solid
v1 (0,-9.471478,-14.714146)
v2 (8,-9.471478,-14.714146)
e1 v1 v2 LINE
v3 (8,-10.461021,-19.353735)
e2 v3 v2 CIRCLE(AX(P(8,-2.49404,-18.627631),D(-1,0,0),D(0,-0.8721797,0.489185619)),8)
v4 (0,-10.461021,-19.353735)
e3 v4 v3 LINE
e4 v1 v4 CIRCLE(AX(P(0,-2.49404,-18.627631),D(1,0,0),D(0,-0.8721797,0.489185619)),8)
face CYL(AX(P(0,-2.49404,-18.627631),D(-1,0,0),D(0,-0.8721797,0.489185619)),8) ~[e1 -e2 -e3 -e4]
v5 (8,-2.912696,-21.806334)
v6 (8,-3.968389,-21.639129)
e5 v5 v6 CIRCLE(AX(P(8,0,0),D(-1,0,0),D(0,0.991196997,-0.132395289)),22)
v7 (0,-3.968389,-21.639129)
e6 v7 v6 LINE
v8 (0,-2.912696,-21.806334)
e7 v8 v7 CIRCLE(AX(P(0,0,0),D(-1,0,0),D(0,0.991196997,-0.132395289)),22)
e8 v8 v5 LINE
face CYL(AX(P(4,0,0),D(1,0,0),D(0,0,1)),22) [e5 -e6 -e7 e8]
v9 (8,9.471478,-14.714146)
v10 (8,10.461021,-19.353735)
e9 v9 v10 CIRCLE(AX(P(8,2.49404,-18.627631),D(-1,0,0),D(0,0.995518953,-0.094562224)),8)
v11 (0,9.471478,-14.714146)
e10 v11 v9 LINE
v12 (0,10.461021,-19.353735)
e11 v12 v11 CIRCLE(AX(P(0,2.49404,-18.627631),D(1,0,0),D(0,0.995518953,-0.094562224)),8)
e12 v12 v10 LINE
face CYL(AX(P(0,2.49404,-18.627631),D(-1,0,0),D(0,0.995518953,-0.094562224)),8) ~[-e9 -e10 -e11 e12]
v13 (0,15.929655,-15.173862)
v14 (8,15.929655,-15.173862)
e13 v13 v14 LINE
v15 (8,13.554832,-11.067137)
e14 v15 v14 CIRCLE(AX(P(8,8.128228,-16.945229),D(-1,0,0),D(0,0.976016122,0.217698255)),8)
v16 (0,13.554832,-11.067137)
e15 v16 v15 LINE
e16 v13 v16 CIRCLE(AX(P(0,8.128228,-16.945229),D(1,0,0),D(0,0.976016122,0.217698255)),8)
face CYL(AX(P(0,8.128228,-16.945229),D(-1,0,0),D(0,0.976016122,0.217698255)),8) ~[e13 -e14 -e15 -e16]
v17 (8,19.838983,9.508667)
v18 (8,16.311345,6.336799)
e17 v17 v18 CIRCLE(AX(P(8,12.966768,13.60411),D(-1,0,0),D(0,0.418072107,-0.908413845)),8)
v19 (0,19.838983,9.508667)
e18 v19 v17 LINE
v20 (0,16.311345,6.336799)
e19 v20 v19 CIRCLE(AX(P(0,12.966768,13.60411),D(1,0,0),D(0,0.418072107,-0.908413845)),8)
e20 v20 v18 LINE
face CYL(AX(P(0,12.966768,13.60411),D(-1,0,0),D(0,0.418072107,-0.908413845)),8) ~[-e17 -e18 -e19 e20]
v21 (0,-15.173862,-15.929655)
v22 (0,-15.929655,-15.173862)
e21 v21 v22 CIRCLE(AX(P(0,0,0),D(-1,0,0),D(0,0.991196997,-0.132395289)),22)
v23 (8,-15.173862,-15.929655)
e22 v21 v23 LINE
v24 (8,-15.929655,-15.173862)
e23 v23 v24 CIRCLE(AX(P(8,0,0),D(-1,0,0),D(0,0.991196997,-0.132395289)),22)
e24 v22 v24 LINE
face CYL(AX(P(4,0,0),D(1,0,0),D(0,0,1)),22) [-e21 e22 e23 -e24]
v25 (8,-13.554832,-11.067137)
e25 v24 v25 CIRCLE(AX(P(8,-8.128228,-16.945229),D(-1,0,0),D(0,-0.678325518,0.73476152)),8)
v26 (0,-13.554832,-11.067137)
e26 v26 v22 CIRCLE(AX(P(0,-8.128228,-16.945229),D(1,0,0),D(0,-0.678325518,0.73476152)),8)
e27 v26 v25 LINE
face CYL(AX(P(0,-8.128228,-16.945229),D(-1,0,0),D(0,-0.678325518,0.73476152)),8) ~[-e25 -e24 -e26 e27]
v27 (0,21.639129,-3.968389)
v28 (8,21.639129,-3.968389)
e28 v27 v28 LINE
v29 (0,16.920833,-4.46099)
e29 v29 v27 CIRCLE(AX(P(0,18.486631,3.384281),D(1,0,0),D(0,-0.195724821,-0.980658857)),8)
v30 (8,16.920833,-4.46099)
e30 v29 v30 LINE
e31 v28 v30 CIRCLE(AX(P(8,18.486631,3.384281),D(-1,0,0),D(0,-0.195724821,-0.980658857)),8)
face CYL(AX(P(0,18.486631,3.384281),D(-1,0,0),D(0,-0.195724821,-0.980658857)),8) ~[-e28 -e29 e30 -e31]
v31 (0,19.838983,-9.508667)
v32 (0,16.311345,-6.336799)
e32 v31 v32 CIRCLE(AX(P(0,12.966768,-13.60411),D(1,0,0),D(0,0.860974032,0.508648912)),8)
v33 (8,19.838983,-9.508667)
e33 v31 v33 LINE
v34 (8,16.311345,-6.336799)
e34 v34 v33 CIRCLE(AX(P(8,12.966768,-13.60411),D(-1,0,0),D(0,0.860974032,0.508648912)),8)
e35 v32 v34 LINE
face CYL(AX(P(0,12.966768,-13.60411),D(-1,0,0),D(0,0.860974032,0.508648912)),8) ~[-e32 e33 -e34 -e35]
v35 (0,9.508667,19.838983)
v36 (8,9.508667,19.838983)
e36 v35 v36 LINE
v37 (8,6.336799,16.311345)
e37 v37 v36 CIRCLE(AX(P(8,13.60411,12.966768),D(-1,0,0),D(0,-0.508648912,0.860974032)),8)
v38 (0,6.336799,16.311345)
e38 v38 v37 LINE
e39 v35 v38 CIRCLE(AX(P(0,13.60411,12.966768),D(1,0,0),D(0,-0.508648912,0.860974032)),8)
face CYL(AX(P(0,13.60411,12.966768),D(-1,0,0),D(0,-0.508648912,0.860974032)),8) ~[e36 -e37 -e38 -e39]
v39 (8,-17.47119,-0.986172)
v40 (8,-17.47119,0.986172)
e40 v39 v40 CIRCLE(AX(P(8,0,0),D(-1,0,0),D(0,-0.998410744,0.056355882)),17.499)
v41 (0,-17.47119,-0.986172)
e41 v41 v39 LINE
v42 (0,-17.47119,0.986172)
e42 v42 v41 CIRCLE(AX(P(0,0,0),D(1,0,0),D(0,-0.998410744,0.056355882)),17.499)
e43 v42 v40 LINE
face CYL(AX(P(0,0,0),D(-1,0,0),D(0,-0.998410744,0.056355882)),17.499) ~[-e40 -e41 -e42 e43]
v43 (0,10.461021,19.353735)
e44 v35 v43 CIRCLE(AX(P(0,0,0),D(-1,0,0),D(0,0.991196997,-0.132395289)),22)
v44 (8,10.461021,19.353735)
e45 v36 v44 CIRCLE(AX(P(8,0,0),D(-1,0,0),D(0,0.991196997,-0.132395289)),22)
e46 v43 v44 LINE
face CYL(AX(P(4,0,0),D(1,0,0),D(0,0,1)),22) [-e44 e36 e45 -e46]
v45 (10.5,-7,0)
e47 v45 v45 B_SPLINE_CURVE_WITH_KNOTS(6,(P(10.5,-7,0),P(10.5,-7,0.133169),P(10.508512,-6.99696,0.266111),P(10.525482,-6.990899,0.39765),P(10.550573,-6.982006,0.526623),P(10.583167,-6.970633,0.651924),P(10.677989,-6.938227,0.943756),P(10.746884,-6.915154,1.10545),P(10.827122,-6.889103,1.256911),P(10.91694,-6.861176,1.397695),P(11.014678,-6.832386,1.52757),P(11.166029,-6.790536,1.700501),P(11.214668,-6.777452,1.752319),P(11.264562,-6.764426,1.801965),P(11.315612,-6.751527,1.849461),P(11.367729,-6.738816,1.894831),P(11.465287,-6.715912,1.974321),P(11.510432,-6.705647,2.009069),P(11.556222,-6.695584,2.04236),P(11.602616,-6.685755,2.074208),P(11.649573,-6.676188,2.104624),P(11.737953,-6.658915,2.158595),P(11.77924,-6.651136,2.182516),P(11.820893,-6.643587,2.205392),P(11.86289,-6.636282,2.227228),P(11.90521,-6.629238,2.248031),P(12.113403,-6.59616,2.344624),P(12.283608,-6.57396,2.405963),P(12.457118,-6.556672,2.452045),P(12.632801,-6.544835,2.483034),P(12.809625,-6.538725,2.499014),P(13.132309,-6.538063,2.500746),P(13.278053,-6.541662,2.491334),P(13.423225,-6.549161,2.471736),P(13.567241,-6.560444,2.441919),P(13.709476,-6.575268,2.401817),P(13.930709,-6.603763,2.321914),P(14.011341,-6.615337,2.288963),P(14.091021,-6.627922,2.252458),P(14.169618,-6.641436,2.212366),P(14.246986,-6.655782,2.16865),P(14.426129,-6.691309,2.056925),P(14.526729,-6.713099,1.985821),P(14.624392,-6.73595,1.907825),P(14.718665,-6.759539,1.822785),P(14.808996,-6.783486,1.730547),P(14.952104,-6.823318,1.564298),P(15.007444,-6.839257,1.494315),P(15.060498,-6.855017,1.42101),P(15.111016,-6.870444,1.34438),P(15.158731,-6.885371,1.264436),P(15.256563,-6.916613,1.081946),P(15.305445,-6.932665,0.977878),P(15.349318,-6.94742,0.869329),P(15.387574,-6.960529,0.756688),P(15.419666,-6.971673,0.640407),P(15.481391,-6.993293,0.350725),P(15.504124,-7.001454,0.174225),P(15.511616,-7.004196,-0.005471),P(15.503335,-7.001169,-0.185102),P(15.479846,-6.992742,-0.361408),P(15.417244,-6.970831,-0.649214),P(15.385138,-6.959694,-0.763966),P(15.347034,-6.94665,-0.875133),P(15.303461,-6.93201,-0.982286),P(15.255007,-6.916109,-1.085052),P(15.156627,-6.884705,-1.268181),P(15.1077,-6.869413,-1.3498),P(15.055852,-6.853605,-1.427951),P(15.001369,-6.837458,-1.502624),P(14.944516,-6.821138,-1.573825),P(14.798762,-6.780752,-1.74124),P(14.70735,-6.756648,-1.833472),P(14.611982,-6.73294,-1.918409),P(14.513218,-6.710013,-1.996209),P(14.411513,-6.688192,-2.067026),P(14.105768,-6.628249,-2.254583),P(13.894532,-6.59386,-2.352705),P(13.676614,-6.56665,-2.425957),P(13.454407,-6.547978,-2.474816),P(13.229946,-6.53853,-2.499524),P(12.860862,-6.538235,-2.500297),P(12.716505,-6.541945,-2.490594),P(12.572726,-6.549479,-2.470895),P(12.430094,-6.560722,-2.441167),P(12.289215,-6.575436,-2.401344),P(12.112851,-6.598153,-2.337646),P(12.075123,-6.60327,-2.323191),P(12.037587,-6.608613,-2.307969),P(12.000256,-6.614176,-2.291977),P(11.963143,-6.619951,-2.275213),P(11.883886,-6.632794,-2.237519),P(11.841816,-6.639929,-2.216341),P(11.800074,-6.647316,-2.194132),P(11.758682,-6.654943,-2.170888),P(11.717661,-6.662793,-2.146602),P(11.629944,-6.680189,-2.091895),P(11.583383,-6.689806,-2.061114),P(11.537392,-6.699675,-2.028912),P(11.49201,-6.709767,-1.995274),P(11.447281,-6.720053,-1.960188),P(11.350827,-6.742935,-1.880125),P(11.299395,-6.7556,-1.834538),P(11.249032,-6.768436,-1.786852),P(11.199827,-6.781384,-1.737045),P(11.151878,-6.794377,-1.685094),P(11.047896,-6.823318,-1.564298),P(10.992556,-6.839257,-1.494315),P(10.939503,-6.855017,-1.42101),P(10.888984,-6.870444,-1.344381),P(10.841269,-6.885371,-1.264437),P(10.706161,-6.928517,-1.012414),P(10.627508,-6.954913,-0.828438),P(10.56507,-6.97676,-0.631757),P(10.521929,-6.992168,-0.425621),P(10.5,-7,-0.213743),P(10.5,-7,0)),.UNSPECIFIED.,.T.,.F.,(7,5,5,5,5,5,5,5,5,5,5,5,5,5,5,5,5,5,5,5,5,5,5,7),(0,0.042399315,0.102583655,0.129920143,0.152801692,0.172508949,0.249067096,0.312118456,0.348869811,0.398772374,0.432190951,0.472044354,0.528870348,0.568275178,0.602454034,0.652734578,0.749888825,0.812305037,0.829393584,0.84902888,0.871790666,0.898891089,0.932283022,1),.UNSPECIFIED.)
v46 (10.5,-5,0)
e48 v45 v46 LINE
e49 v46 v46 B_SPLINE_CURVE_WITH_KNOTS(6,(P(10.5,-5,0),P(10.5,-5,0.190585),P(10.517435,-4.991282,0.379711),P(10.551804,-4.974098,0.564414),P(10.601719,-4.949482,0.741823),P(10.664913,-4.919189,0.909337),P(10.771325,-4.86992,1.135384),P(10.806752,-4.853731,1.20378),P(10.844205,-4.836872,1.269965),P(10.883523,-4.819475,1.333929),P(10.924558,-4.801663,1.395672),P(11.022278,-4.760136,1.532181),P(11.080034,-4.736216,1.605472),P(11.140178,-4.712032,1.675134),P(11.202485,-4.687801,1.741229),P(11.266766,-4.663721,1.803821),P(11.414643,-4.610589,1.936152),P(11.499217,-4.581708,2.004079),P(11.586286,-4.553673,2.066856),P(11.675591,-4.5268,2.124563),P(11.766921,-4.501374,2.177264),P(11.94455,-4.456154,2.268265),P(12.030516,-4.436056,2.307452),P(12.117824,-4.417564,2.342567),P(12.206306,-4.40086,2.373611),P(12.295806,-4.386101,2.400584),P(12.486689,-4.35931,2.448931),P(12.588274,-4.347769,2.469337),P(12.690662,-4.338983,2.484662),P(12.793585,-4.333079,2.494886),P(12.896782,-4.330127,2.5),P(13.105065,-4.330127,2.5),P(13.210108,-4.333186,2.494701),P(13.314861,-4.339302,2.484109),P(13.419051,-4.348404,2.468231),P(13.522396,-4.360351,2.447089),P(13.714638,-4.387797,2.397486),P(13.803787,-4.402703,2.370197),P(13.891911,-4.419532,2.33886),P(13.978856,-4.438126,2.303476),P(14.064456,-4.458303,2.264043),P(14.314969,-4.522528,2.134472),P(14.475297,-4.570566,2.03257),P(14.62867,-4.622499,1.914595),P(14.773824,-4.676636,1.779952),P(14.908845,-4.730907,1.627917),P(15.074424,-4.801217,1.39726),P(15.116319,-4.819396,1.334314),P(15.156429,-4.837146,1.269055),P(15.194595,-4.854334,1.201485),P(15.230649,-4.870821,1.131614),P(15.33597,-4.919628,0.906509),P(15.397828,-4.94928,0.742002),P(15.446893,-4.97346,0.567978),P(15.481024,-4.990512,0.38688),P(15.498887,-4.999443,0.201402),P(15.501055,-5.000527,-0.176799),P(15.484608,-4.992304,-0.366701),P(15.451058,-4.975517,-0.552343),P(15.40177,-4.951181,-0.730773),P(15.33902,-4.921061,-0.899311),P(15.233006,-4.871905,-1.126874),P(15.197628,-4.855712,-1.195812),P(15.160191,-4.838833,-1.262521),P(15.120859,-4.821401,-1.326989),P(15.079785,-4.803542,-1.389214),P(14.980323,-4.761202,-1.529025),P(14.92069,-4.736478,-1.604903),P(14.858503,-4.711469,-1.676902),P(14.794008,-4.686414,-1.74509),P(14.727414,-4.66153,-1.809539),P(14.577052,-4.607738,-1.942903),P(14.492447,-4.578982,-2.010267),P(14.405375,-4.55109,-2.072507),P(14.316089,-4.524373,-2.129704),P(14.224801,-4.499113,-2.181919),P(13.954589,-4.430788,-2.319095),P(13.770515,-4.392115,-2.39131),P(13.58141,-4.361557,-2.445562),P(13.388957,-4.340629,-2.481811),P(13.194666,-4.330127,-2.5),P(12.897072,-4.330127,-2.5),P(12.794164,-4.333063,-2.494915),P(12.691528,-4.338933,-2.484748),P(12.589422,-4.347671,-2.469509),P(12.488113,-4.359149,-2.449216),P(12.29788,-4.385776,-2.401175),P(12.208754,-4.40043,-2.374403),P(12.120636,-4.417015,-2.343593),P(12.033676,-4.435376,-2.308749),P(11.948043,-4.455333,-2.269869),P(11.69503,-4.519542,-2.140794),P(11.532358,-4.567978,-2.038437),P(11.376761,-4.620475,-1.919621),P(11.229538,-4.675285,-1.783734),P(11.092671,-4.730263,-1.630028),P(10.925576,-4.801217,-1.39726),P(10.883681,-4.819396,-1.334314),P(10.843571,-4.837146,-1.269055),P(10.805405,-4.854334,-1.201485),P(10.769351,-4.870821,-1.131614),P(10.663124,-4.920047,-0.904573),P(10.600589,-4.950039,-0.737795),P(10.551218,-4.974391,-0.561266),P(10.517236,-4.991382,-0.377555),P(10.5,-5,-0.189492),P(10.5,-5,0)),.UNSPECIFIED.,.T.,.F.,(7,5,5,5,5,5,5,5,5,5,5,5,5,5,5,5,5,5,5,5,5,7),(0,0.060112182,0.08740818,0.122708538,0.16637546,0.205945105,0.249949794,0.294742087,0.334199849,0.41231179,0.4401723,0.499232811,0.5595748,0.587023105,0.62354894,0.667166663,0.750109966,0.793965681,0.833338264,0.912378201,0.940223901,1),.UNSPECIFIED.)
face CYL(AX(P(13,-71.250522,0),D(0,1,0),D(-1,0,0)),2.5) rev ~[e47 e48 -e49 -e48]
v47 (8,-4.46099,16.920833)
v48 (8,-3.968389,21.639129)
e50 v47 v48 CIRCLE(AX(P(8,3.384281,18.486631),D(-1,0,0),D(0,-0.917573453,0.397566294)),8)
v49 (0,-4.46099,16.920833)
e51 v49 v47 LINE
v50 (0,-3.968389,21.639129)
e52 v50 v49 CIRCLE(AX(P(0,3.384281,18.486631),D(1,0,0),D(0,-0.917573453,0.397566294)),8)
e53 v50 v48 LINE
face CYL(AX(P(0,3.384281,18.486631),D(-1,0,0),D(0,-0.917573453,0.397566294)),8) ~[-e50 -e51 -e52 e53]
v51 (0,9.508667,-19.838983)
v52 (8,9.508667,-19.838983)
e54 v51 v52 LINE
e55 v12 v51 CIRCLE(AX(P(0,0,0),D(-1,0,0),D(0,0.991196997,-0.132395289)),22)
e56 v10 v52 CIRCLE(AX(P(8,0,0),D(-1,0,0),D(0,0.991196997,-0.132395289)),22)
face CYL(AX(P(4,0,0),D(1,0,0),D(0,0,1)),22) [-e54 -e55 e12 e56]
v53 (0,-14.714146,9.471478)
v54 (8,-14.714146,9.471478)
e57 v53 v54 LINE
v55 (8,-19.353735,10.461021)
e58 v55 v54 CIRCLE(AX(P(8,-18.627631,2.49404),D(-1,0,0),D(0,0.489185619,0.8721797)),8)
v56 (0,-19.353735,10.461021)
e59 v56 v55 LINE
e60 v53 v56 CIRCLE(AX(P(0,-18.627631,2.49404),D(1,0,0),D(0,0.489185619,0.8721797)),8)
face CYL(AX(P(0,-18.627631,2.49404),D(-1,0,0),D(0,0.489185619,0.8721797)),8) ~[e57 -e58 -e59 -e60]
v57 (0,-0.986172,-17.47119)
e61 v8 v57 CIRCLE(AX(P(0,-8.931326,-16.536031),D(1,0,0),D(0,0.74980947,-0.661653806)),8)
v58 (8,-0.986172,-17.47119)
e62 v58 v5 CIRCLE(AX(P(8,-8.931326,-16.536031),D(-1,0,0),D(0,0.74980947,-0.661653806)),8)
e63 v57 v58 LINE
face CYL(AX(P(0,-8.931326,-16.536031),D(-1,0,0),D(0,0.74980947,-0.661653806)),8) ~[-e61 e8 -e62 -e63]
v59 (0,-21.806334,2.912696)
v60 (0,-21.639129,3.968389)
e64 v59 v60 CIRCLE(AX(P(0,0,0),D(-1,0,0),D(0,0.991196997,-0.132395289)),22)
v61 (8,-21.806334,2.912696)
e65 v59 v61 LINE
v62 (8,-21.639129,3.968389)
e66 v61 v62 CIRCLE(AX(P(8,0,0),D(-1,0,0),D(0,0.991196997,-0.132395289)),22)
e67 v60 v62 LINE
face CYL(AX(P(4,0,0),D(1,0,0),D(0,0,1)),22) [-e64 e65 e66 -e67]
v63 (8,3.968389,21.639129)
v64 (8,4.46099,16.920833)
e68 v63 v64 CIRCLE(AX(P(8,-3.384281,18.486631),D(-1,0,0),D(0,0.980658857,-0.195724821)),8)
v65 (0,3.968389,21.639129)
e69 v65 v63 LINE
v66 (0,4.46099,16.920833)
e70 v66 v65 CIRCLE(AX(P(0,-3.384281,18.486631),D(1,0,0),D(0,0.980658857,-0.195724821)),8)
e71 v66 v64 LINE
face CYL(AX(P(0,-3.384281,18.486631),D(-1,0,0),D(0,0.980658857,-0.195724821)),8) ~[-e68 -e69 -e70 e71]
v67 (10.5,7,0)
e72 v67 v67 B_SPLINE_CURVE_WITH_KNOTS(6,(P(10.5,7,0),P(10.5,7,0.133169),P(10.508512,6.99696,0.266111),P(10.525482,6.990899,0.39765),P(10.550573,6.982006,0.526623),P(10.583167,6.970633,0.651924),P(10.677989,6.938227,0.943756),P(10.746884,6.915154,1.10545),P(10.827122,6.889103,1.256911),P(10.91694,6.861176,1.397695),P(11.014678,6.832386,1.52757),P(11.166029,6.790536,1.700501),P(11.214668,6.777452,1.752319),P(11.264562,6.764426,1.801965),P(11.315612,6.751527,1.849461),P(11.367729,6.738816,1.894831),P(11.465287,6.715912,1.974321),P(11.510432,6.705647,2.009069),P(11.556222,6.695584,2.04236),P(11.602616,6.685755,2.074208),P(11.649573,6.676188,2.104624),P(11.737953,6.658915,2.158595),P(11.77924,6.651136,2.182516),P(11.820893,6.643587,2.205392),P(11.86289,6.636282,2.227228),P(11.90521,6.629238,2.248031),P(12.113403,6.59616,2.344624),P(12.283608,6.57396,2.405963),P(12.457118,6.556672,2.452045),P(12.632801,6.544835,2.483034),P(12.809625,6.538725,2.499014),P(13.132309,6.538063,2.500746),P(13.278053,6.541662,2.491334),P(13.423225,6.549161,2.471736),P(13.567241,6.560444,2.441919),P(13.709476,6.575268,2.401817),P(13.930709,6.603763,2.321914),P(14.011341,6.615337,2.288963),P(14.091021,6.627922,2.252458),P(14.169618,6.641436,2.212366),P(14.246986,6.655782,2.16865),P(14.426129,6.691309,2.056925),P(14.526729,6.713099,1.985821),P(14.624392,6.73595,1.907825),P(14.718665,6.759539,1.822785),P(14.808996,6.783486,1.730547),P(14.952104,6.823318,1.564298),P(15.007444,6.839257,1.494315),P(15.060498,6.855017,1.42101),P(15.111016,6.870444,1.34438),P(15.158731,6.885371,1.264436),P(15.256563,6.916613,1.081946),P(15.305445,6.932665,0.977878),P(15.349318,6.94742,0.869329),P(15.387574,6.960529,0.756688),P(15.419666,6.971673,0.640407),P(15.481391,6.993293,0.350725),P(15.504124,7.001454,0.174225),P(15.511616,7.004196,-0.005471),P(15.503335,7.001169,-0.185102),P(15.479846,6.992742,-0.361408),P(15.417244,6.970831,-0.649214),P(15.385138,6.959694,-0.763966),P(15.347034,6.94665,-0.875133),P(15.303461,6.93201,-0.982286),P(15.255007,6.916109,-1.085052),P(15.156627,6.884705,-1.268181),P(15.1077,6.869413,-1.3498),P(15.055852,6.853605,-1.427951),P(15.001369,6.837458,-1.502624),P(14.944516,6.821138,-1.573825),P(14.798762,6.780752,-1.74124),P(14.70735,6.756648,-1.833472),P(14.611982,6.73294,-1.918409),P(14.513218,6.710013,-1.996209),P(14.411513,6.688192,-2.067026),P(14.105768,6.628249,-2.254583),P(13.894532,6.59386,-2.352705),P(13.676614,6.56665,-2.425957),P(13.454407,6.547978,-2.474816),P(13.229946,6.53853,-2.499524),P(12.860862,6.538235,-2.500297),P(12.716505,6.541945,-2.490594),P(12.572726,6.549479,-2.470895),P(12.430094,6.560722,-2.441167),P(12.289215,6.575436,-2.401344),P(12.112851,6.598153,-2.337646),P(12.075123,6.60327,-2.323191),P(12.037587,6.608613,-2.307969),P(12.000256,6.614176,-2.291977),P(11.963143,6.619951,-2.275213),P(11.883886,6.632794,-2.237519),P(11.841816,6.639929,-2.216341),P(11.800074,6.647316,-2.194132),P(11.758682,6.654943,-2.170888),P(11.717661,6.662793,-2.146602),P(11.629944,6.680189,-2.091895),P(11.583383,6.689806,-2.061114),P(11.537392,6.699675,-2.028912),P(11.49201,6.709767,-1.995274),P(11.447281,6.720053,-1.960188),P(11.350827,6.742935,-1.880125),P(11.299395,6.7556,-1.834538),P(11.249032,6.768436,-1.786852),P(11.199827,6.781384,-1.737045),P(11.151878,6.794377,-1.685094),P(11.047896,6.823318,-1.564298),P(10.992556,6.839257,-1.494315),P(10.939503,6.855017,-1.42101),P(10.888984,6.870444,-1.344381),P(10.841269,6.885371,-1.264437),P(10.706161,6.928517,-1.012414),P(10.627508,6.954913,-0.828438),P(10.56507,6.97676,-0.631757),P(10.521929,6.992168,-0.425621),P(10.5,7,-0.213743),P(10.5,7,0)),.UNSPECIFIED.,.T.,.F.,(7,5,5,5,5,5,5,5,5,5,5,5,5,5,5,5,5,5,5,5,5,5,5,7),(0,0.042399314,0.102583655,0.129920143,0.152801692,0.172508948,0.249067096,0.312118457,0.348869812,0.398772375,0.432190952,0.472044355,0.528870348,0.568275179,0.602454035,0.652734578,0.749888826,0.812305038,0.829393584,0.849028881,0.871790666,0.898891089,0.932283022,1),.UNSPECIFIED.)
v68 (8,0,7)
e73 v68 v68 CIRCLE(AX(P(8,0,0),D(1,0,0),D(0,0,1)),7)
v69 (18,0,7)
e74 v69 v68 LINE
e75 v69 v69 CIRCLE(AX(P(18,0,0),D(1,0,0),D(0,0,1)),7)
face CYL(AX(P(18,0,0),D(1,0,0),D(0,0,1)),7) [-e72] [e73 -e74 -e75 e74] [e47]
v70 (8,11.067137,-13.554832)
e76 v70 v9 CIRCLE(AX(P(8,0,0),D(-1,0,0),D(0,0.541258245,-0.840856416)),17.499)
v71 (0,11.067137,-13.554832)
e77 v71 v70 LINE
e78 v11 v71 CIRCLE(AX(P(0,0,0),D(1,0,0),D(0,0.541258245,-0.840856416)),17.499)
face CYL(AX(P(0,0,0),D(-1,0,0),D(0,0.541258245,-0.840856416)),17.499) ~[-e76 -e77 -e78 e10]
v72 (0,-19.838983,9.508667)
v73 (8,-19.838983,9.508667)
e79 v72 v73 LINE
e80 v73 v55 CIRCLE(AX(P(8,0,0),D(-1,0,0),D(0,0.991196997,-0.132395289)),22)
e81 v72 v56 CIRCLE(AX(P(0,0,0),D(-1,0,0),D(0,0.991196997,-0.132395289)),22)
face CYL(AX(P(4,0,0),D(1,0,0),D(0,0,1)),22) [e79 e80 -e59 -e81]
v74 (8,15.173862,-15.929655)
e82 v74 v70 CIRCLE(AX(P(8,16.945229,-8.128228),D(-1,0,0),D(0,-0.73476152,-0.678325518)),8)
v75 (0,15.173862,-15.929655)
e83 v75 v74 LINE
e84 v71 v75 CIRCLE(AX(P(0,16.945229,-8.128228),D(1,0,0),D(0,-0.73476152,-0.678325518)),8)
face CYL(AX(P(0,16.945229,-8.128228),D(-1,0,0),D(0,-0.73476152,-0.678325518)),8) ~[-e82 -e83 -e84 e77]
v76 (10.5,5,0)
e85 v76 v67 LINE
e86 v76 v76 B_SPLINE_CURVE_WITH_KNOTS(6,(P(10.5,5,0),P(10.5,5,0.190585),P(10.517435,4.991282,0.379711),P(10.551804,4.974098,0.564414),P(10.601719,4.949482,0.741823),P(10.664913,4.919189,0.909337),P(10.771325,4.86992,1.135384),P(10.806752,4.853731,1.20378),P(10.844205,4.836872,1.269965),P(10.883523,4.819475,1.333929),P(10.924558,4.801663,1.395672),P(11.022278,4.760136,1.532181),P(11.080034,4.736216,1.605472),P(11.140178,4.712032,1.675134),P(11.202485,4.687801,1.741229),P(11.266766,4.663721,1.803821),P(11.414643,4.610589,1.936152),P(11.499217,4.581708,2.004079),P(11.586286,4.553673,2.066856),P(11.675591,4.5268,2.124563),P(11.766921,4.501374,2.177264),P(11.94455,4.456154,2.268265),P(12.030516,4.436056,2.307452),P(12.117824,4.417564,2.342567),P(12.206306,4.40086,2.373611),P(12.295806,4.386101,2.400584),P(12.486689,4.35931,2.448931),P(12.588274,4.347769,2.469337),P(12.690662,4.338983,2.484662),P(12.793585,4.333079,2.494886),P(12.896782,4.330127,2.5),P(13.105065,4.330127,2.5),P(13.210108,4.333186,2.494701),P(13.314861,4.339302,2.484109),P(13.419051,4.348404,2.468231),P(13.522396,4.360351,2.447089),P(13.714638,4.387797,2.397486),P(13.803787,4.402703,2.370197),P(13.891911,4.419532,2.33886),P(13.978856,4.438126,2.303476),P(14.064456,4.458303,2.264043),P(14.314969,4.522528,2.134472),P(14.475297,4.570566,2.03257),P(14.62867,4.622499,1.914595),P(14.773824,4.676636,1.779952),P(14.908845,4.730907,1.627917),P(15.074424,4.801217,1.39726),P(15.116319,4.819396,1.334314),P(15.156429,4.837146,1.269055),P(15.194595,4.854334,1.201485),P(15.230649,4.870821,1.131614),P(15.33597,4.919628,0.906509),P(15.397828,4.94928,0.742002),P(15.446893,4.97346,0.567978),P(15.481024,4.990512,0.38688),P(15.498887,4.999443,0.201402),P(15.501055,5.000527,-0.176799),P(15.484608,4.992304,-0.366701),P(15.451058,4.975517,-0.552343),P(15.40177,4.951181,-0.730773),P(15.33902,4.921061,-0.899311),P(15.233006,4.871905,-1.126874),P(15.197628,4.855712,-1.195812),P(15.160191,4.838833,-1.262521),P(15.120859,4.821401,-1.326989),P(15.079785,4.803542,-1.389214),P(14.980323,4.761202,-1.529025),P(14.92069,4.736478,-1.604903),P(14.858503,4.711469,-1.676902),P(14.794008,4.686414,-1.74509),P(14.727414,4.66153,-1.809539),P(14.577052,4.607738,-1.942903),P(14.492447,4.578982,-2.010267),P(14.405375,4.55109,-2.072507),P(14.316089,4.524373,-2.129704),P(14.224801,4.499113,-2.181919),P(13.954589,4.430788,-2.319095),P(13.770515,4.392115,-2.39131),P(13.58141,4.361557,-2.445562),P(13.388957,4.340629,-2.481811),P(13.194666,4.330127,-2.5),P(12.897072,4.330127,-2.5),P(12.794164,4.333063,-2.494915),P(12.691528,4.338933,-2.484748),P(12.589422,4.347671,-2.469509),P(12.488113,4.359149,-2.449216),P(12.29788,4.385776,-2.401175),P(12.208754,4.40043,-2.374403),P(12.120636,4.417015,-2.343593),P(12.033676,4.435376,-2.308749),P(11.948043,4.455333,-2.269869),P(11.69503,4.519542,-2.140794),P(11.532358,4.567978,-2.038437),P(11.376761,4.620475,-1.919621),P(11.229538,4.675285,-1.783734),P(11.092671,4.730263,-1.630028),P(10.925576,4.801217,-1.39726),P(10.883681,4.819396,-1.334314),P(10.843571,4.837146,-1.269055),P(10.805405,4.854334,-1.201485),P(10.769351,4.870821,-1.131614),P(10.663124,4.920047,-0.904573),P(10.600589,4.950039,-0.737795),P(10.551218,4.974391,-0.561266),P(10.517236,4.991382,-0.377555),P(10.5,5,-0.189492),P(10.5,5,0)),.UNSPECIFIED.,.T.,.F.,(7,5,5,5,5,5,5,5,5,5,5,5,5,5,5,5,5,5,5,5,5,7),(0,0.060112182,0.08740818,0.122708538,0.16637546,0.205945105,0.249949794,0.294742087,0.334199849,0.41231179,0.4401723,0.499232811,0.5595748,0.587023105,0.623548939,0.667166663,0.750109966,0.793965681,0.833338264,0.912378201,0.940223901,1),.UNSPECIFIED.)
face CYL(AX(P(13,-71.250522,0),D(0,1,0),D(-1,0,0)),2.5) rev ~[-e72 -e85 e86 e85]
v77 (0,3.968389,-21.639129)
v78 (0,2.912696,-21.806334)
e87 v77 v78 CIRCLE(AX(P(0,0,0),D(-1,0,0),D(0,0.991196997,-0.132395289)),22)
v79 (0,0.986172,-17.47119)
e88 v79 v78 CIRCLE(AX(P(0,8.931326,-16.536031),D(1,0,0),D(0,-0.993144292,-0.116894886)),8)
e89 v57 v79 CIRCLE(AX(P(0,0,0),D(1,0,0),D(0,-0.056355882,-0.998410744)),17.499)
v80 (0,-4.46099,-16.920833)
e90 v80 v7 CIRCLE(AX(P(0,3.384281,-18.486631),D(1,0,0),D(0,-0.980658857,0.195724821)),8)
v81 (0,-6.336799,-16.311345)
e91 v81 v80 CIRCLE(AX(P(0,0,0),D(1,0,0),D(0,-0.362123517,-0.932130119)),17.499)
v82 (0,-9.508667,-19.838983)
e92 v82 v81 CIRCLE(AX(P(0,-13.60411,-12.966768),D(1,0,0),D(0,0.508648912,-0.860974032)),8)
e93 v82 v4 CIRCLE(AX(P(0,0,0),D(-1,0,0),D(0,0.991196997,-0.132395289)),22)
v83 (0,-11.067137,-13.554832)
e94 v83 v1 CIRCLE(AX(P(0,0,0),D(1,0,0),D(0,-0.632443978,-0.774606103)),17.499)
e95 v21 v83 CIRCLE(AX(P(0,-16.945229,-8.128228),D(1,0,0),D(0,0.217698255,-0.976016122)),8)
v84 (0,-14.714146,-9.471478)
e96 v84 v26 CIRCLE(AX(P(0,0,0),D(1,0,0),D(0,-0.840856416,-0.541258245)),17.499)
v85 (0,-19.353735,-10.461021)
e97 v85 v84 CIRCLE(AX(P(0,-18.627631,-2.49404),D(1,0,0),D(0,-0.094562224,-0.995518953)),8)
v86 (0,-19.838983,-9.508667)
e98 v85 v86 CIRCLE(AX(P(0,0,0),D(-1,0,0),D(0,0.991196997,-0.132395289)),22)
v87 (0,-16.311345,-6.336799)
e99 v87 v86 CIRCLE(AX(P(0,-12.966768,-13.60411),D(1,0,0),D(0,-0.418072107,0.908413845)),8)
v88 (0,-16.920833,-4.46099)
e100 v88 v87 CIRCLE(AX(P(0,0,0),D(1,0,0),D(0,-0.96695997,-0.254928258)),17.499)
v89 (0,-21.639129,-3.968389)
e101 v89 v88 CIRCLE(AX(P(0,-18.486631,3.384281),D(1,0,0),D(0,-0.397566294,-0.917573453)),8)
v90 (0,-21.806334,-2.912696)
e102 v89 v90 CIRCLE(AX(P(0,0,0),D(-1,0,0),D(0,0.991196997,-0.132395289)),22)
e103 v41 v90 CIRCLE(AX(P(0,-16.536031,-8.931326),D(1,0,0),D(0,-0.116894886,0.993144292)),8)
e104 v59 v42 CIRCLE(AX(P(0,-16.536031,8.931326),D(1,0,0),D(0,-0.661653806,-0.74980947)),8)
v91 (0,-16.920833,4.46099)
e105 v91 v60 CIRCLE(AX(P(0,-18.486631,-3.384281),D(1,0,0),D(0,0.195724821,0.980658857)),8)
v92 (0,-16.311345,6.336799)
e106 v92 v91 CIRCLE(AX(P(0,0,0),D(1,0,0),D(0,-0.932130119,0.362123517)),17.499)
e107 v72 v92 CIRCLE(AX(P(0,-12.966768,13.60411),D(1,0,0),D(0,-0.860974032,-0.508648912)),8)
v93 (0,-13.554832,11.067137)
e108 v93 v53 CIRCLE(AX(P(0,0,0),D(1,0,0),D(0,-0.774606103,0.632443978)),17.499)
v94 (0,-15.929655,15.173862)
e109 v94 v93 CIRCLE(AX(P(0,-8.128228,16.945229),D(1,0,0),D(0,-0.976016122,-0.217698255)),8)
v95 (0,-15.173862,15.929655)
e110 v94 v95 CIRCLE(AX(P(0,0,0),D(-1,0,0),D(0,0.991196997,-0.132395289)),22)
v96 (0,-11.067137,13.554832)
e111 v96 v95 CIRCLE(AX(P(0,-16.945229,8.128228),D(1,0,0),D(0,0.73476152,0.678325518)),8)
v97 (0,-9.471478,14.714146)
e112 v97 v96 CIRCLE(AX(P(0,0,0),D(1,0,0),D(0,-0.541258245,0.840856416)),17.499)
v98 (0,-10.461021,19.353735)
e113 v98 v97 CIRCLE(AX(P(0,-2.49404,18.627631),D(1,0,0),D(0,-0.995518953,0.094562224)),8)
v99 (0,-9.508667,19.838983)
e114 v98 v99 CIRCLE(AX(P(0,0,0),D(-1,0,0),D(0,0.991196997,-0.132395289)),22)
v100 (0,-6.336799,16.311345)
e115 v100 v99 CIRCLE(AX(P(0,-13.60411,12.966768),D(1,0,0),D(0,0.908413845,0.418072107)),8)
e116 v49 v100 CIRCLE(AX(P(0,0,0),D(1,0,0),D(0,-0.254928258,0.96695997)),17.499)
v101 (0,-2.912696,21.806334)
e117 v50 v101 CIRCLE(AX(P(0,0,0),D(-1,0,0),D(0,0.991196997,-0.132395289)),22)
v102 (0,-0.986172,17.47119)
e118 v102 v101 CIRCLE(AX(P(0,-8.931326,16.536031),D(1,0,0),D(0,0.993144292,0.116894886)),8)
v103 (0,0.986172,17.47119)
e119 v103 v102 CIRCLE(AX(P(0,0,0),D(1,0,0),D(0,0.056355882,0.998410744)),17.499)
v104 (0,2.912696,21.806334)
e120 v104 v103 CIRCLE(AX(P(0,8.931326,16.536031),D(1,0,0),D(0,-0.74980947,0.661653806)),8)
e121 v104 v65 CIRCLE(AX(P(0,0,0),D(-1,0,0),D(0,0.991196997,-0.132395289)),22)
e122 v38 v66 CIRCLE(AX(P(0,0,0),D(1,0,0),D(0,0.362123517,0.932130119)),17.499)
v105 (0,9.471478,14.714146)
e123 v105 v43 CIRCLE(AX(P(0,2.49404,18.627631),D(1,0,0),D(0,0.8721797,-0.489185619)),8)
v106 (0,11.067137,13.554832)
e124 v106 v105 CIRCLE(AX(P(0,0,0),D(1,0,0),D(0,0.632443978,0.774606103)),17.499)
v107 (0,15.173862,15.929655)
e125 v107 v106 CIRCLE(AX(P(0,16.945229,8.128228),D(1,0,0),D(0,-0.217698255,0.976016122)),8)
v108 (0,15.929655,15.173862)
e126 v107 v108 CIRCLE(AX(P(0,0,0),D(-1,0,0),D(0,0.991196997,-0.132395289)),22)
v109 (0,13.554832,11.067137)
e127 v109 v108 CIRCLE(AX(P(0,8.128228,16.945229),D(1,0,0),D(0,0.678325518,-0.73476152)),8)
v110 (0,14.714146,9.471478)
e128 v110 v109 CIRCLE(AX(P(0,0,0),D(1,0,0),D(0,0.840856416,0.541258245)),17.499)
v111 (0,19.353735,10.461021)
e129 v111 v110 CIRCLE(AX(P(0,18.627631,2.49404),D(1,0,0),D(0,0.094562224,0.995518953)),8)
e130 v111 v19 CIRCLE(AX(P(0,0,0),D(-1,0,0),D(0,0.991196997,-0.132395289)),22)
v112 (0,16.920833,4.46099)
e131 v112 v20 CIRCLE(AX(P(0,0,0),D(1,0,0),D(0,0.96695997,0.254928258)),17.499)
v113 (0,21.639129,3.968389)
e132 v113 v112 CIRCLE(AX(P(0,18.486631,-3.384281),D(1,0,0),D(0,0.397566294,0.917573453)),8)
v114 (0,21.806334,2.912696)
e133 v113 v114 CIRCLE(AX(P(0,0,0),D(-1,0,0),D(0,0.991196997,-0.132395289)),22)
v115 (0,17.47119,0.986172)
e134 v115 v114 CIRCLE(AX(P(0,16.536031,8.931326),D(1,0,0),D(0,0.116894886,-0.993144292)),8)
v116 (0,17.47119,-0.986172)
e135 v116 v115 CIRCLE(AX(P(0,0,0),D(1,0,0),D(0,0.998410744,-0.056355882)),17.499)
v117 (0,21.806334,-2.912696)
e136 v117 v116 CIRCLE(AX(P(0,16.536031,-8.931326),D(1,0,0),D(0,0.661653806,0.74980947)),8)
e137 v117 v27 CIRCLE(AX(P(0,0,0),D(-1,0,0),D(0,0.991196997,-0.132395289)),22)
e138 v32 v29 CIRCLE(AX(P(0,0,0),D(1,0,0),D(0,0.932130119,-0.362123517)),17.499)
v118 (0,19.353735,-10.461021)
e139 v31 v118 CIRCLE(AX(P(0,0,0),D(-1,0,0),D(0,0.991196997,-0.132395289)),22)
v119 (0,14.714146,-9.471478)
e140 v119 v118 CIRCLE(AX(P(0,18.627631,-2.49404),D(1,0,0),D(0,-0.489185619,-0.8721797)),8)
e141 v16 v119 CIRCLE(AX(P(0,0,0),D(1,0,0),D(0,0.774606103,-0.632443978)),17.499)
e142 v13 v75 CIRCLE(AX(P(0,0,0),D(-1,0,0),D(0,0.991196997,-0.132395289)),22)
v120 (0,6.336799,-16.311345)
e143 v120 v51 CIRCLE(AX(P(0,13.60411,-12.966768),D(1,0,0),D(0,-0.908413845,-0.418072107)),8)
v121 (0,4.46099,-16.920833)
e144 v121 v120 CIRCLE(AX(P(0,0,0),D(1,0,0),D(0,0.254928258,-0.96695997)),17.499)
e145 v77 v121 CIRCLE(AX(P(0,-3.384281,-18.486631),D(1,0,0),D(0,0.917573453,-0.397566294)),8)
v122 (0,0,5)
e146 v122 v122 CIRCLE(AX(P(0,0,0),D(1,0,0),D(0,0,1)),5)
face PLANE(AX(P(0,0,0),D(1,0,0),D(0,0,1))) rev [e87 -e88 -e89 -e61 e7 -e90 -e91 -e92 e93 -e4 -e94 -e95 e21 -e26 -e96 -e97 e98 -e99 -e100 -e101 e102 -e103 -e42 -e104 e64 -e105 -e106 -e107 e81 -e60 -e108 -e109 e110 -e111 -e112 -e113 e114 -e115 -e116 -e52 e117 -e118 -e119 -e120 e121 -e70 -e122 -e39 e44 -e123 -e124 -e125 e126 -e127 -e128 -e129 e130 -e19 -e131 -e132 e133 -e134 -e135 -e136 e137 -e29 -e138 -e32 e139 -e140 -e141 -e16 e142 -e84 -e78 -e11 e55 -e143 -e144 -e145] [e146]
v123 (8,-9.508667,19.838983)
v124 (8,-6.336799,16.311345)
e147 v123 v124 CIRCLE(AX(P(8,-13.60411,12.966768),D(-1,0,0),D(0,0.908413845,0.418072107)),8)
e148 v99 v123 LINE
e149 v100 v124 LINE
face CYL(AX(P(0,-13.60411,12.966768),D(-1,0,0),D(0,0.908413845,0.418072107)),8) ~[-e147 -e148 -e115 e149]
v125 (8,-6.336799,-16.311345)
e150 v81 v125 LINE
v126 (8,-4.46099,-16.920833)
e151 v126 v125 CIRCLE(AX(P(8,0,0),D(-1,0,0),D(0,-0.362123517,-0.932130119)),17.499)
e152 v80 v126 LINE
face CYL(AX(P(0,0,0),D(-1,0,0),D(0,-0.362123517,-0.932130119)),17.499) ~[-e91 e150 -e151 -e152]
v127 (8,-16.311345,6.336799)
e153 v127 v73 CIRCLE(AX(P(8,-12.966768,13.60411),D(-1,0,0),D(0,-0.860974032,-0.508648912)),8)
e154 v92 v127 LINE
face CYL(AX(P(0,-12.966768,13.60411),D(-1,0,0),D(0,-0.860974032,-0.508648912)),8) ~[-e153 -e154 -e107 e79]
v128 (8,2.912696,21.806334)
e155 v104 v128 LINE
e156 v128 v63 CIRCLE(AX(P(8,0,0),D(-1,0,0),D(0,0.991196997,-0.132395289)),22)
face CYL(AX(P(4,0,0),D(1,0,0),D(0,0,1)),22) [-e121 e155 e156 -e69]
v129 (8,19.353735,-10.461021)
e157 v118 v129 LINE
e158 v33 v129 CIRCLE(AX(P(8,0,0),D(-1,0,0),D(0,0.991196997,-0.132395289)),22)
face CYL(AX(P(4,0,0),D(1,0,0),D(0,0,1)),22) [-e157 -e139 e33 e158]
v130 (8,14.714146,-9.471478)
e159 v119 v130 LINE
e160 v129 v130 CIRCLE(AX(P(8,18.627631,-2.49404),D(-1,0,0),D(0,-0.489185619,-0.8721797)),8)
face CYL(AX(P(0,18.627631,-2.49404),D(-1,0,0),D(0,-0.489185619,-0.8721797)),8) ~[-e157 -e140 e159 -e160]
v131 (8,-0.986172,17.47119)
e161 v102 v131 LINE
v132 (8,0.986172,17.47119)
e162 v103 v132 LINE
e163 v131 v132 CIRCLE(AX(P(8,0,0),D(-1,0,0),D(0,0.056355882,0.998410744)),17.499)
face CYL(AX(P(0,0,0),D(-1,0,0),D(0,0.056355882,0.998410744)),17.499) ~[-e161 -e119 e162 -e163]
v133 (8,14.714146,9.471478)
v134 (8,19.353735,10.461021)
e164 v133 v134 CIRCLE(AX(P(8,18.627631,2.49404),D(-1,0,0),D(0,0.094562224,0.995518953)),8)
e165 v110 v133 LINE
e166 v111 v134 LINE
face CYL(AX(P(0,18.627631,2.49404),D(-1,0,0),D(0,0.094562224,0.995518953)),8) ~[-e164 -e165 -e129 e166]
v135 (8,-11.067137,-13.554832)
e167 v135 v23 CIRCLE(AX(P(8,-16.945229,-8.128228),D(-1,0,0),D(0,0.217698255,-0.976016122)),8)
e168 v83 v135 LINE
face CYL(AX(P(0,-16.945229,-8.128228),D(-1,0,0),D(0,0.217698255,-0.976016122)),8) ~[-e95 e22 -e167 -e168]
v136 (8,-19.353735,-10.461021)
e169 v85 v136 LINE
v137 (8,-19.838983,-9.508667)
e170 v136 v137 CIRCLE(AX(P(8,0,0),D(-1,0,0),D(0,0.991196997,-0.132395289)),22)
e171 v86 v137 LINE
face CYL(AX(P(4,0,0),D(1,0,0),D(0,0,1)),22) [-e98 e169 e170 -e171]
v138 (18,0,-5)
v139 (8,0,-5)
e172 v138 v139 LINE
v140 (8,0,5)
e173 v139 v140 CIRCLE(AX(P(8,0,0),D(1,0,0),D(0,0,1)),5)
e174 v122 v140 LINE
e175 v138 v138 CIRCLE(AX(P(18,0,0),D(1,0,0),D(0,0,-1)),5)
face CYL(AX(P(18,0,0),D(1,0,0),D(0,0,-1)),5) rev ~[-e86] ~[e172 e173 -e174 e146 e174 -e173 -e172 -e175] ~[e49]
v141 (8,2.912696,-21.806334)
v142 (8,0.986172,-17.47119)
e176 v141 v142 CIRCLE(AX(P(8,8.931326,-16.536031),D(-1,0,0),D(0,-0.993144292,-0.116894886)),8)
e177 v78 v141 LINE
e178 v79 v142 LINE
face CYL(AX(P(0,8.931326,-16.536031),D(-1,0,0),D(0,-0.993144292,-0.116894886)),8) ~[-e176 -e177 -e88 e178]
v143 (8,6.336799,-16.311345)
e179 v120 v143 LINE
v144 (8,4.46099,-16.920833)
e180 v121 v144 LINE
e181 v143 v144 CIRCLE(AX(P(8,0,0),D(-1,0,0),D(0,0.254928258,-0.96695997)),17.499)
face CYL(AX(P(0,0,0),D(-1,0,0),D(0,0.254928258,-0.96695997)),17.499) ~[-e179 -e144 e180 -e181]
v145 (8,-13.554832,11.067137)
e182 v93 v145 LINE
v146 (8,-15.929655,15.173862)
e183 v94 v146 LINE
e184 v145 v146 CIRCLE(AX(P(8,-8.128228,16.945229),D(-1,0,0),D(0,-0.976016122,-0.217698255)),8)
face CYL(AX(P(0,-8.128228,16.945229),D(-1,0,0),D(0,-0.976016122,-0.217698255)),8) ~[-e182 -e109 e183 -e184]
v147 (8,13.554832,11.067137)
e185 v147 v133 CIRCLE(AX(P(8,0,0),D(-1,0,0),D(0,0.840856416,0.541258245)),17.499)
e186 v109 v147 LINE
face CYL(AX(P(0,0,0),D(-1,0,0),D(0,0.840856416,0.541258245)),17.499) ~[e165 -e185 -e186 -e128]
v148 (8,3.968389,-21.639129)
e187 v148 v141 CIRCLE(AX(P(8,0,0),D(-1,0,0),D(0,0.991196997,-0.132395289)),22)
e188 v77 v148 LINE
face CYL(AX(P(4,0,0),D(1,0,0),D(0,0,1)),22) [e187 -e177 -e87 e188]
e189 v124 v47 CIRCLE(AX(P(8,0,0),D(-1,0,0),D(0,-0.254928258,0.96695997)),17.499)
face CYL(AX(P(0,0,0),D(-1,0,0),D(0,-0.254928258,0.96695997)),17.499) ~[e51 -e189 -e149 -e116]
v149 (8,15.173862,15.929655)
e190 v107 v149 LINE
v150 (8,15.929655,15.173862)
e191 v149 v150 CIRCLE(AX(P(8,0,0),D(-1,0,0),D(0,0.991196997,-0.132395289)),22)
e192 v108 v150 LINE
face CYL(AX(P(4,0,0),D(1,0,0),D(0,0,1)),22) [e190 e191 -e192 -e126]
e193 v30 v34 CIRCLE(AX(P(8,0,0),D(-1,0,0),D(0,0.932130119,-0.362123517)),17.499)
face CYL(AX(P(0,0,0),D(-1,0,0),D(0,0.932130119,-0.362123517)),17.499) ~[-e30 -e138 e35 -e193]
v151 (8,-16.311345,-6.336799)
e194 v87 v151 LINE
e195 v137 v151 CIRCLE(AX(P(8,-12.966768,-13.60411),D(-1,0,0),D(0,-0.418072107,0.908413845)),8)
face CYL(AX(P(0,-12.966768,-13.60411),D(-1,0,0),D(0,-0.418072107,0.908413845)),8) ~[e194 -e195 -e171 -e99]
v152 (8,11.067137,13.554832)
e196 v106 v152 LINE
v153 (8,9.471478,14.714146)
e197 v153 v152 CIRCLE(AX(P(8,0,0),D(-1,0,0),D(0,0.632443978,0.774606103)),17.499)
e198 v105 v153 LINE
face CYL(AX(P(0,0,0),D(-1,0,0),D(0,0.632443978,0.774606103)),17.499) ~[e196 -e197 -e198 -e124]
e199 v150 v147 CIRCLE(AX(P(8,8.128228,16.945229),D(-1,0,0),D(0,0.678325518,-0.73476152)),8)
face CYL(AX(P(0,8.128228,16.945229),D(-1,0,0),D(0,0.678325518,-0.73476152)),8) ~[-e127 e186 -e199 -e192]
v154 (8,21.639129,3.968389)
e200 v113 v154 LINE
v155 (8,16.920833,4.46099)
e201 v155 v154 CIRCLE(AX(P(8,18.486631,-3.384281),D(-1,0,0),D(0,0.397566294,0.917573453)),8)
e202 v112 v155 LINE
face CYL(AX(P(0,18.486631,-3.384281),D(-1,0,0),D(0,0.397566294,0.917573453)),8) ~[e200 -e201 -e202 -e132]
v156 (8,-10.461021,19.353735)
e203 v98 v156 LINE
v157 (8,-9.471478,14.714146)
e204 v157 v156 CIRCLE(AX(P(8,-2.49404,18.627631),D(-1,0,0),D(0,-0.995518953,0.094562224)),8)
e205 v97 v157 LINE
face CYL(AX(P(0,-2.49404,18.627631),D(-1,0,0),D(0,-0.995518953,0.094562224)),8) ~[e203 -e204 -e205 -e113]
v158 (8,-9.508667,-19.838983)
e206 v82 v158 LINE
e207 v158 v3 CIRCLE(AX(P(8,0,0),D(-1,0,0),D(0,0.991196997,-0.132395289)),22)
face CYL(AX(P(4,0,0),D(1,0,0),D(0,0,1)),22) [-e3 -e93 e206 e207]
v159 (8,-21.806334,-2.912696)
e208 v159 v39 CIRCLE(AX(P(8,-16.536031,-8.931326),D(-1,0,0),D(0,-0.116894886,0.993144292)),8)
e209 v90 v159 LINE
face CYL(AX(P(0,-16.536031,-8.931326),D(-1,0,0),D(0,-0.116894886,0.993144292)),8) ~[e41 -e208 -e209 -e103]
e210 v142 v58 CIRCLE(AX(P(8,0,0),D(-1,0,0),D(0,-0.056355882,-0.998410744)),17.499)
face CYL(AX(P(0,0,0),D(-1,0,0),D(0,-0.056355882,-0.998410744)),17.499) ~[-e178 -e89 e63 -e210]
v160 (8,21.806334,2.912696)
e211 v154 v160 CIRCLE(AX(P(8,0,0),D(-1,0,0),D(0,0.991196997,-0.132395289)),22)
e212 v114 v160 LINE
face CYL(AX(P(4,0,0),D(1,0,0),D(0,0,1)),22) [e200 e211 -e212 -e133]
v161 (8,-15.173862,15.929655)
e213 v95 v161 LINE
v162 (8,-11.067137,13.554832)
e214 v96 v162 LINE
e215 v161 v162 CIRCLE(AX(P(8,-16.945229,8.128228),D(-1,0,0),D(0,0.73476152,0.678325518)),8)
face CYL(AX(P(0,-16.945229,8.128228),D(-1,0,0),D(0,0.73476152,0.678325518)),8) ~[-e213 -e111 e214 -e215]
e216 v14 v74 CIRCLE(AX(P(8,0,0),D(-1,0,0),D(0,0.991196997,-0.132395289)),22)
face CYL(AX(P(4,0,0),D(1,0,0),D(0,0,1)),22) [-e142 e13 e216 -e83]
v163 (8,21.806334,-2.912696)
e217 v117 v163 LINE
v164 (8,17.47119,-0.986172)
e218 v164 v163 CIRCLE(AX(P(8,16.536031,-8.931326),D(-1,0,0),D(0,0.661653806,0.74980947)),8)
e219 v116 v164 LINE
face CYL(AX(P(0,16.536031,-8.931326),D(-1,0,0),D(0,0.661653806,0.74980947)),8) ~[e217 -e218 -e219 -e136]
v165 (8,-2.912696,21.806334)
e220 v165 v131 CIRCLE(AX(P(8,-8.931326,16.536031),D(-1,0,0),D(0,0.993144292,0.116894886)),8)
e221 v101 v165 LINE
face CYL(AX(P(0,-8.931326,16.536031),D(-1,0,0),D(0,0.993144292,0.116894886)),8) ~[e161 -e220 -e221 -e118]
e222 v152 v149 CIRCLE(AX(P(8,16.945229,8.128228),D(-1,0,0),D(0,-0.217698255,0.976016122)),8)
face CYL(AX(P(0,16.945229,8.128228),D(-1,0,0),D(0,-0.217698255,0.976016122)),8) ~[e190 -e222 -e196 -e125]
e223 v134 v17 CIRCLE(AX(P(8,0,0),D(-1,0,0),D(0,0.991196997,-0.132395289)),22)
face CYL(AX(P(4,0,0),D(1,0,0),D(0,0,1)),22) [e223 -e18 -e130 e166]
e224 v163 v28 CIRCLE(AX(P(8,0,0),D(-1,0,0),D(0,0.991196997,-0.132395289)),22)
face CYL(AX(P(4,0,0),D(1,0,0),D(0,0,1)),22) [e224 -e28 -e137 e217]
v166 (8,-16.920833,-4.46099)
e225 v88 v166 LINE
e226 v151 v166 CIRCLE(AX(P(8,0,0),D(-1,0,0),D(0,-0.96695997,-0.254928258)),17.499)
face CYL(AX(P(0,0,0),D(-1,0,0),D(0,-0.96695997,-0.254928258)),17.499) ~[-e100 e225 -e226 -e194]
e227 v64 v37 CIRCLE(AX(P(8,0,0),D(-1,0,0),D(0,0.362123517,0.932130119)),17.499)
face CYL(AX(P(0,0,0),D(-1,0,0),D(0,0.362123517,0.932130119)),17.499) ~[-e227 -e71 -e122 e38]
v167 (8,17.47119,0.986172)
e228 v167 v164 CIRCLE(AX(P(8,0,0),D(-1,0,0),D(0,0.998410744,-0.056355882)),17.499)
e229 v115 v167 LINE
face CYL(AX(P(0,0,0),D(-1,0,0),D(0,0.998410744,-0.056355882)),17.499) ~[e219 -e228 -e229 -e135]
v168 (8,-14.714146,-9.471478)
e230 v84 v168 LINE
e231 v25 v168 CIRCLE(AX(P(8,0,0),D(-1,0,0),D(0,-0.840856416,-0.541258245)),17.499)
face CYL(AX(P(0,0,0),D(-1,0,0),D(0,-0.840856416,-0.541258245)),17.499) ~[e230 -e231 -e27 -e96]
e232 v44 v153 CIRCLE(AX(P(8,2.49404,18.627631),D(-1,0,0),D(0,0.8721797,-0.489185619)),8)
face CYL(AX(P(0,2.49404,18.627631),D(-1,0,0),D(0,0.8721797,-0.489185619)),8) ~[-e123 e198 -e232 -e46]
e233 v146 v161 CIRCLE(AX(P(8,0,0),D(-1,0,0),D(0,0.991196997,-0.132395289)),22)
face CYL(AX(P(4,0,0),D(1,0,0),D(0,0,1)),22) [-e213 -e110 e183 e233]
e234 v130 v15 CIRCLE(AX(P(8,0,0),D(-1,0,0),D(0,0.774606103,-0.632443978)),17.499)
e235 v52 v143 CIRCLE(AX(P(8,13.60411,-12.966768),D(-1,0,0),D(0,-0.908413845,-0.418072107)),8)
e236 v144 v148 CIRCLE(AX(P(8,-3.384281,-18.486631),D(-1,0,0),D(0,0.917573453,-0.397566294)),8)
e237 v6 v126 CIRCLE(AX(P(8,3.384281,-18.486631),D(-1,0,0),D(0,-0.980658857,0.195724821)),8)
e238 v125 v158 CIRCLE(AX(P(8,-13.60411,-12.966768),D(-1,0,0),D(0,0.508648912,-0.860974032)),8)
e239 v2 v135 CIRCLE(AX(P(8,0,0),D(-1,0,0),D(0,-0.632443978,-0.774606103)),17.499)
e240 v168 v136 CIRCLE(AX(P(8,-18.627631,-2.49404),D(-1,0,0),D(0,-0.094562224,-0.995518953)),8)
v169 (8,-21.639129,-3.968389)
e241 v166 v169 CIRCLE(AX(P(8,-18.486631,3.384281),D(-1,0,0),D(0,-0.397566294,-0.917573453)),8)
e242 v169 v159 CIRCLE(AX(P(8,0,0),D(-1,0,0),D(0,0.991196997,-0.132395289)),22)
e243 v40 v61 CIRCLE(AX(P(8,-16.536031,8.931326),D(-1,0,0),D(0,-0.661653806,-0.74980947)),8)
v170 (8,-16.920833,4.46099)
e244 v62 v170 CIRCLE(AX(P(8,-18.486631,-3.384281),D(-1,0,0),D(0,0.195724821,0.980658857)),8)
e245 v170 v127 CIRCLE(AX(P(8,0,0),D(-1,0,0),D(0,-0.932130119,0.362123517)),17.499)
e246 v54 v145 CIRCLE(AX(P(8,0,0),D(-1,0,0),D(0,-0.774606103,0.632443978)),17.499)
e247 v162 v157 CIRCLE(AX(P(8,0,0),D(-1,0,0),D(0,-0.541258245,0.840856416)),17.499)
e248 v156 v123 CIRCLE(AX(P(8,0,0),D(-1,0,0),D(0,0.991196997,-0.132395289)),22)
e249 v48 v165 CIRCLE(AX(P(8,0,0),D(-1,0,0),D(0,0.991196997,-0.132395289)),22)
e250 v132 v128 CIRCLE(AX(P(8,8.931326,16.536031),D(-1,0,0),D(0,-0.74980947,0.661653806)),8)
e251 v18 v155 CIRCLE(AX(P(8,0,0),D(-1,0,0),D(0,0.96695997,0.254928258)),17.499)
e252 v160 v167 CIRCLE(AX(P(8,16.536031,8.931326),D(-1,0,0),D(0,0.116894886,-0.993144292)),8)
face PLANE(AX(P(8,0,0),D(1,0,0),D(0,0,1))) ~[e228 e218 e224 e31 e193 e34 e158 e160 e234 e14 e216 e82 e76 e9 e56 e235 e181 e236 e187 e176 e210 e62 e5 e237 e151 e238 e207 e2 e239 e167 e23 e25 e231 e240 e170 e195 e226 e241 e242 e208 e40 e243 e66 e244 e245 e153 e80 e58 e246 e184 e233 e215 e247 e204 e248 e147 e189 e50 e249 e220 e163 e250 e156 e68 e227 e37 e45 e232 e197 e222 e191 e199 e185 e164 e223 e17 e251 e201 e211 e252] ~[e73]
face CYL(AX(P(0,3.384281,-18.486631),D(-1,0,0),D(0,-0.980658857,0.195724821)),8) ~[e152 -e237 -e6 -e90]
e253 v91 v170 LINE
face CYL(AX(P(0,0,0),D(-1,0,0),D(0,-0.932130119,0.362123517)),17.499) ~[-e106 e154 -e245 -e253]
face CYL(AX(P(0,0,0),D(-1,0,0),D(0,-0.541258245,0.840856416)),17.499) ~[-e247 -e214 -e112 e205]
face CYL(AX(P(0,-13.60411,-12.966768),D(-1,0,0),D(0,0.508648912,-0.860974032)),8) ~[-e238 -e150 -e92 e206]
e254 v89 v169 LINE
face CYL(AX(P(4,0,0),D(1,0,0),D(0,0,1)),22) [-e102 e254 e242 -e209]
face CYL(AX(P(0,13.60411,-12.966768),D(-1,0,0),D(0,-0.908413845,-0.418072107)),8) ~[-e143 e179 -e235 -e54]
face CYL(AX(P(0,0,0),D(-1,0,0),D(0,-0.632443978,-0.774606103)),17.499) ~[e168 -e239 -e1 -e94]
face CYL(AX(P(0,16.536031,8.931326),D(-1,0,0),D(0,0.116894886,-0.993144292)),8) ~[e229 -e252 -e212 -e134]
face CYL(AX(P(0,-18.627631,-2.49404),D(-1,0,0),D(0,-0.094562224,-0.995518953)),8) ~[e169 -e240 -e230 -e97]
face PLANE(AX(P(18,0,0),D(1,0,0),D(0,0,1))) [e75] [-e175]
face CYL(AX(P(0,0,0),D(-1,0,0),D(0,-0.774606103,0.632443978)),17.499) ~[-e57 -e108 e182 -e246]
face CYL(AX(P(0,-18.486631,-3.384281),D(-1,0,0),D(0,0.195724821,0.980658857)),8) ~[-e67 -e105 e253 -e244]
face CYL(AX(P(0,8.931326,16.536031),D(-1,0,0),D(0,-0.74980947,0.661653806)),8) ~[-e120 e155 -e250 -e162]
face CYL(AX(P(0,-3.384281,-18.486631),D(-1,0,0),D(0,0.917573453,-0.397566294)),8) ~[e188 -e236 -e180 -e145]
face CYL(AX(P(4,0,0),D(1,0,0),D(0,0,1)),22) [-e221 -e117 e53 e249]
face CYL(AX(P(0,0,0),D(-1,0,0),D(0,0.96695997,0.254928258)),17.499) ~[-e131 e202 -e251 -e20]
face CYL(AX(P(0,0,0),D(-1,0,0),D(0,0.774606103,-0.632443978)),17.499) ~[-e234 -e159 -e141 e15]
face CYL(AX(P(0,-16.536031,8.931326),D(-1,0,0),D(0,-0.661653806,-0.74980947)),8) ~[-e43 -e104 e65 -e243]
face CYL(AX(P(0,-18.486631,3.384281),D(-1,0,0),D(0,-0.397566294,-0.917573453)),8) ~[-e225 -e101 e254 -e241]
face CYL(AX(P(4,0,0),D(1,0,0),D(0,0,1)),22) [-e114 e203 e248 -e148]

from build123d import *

# Parameters (mm, degrees)
BASPROSKE_W           = 8
BASPROSKE_H           = 22
TOOTHCUT_DEPTH        = 33.124756808
TEETHCUTS_COUNT       = 20
TEETHCUTS_ANGLE       = 342
BORSKE_R              = 5
BORE_DEPTH            = 50.0000508
BOSS_EXTRUDE1_START   = 10
SKETCH1_R             = 7
SKETCH1_R_2           = 5
BOSS_EXTRUDE1_DEPTH   = 10
F_5_0MM_DOWEL_HOLE1_D = 5


with BuildPart() as part:
    # BasProSke → Base-Revolve (revolve)
    with BuildSketch(Plane(origin=(0, 0, 0), x_dir=(1, 0, 0), z_dir=(0, 1, 0))):
        with Locations((4, 11)):
            Rectangle(BASPROSKE_W, BASPROSKE_H)
    revolve(axis=Axis((-10, 0, 0), (1, 0, 0)))

    # TooCutSke → ToothCut (cut, through all)
    with BuildSketch(Plane(origin=(0, 0, 0), x_dir=(0, 0, -1), z_dir=(1, 0, 0))):
        with BuildLine():
            ThreePointArc((0.986171591, 17.471189616), (0, 17.499), (-0.986171591, 17.471189616))
            ThreePointArc((-0.986171591, 17.471189616), (-1.626916196, 19.798789858), (-2.932850173, 21.829260982))
            ThreePointArc((-2.932850173, 21.829260982), (0, 22.0254), (2.932850173, 21.829260982))
            ThreePointArc((2.932850173, 21.829260982), (1.626916196, 19.798789858), (0.986171591, 17.471189616))
        make_face()
    toothcut = extrude(amount=TOOTHCUT_DEPTH, mode=Mode.SUBTRACT)

    # TeethCuts: ToothCut ×20 about axis
    teethcuts_axis = Axis((-10, 0, 0), (1, 0, 0))
    for i in range(1, TEETHCUTS_COUNT):
        add(toothcut.rotate(teethcuts_axis, i * TEETHCUTS_ANGLE / (TEETHCUTS_COUNT - 1)), mode=Mode.SUBTRACT)

    # BorSke → Bore (cut, symmetric)
    with BuildSketch(Plane(origin=(0, 0, 0), x_dir=(0, 0, -1), z_dir=(1, 0, 0))):
        Circle(BORSKE_R)
    extrude(amount=BORE_DEPTH, both=True, mode=Mode.SUBTRACT)

    # Sketch1 → Boss-Extrude1 (add)
    with BuildSketch(Plane(origin=(8, 0, 0), x_dir=(0, 0, -1), z_dir=(1, 0, 0)).offset(BOSS_EXTRUDE1_START)):
        Circle(SKETCH1_R)
        Circle(SKETCH1_R_2, mode=Mode.SUBTRACT)
    extrude(amount=-BOSS_EXTRUDE1_DEPTH)

    # Ø5.0mm Dowel Hole1 (through all)
    with Locations(Plane.XZ.offset(7)):
        with Locations((13, 0)):
            Hole(F_5_0MM_DOWEL_HOLE1_D / 2)


solid = part.part
